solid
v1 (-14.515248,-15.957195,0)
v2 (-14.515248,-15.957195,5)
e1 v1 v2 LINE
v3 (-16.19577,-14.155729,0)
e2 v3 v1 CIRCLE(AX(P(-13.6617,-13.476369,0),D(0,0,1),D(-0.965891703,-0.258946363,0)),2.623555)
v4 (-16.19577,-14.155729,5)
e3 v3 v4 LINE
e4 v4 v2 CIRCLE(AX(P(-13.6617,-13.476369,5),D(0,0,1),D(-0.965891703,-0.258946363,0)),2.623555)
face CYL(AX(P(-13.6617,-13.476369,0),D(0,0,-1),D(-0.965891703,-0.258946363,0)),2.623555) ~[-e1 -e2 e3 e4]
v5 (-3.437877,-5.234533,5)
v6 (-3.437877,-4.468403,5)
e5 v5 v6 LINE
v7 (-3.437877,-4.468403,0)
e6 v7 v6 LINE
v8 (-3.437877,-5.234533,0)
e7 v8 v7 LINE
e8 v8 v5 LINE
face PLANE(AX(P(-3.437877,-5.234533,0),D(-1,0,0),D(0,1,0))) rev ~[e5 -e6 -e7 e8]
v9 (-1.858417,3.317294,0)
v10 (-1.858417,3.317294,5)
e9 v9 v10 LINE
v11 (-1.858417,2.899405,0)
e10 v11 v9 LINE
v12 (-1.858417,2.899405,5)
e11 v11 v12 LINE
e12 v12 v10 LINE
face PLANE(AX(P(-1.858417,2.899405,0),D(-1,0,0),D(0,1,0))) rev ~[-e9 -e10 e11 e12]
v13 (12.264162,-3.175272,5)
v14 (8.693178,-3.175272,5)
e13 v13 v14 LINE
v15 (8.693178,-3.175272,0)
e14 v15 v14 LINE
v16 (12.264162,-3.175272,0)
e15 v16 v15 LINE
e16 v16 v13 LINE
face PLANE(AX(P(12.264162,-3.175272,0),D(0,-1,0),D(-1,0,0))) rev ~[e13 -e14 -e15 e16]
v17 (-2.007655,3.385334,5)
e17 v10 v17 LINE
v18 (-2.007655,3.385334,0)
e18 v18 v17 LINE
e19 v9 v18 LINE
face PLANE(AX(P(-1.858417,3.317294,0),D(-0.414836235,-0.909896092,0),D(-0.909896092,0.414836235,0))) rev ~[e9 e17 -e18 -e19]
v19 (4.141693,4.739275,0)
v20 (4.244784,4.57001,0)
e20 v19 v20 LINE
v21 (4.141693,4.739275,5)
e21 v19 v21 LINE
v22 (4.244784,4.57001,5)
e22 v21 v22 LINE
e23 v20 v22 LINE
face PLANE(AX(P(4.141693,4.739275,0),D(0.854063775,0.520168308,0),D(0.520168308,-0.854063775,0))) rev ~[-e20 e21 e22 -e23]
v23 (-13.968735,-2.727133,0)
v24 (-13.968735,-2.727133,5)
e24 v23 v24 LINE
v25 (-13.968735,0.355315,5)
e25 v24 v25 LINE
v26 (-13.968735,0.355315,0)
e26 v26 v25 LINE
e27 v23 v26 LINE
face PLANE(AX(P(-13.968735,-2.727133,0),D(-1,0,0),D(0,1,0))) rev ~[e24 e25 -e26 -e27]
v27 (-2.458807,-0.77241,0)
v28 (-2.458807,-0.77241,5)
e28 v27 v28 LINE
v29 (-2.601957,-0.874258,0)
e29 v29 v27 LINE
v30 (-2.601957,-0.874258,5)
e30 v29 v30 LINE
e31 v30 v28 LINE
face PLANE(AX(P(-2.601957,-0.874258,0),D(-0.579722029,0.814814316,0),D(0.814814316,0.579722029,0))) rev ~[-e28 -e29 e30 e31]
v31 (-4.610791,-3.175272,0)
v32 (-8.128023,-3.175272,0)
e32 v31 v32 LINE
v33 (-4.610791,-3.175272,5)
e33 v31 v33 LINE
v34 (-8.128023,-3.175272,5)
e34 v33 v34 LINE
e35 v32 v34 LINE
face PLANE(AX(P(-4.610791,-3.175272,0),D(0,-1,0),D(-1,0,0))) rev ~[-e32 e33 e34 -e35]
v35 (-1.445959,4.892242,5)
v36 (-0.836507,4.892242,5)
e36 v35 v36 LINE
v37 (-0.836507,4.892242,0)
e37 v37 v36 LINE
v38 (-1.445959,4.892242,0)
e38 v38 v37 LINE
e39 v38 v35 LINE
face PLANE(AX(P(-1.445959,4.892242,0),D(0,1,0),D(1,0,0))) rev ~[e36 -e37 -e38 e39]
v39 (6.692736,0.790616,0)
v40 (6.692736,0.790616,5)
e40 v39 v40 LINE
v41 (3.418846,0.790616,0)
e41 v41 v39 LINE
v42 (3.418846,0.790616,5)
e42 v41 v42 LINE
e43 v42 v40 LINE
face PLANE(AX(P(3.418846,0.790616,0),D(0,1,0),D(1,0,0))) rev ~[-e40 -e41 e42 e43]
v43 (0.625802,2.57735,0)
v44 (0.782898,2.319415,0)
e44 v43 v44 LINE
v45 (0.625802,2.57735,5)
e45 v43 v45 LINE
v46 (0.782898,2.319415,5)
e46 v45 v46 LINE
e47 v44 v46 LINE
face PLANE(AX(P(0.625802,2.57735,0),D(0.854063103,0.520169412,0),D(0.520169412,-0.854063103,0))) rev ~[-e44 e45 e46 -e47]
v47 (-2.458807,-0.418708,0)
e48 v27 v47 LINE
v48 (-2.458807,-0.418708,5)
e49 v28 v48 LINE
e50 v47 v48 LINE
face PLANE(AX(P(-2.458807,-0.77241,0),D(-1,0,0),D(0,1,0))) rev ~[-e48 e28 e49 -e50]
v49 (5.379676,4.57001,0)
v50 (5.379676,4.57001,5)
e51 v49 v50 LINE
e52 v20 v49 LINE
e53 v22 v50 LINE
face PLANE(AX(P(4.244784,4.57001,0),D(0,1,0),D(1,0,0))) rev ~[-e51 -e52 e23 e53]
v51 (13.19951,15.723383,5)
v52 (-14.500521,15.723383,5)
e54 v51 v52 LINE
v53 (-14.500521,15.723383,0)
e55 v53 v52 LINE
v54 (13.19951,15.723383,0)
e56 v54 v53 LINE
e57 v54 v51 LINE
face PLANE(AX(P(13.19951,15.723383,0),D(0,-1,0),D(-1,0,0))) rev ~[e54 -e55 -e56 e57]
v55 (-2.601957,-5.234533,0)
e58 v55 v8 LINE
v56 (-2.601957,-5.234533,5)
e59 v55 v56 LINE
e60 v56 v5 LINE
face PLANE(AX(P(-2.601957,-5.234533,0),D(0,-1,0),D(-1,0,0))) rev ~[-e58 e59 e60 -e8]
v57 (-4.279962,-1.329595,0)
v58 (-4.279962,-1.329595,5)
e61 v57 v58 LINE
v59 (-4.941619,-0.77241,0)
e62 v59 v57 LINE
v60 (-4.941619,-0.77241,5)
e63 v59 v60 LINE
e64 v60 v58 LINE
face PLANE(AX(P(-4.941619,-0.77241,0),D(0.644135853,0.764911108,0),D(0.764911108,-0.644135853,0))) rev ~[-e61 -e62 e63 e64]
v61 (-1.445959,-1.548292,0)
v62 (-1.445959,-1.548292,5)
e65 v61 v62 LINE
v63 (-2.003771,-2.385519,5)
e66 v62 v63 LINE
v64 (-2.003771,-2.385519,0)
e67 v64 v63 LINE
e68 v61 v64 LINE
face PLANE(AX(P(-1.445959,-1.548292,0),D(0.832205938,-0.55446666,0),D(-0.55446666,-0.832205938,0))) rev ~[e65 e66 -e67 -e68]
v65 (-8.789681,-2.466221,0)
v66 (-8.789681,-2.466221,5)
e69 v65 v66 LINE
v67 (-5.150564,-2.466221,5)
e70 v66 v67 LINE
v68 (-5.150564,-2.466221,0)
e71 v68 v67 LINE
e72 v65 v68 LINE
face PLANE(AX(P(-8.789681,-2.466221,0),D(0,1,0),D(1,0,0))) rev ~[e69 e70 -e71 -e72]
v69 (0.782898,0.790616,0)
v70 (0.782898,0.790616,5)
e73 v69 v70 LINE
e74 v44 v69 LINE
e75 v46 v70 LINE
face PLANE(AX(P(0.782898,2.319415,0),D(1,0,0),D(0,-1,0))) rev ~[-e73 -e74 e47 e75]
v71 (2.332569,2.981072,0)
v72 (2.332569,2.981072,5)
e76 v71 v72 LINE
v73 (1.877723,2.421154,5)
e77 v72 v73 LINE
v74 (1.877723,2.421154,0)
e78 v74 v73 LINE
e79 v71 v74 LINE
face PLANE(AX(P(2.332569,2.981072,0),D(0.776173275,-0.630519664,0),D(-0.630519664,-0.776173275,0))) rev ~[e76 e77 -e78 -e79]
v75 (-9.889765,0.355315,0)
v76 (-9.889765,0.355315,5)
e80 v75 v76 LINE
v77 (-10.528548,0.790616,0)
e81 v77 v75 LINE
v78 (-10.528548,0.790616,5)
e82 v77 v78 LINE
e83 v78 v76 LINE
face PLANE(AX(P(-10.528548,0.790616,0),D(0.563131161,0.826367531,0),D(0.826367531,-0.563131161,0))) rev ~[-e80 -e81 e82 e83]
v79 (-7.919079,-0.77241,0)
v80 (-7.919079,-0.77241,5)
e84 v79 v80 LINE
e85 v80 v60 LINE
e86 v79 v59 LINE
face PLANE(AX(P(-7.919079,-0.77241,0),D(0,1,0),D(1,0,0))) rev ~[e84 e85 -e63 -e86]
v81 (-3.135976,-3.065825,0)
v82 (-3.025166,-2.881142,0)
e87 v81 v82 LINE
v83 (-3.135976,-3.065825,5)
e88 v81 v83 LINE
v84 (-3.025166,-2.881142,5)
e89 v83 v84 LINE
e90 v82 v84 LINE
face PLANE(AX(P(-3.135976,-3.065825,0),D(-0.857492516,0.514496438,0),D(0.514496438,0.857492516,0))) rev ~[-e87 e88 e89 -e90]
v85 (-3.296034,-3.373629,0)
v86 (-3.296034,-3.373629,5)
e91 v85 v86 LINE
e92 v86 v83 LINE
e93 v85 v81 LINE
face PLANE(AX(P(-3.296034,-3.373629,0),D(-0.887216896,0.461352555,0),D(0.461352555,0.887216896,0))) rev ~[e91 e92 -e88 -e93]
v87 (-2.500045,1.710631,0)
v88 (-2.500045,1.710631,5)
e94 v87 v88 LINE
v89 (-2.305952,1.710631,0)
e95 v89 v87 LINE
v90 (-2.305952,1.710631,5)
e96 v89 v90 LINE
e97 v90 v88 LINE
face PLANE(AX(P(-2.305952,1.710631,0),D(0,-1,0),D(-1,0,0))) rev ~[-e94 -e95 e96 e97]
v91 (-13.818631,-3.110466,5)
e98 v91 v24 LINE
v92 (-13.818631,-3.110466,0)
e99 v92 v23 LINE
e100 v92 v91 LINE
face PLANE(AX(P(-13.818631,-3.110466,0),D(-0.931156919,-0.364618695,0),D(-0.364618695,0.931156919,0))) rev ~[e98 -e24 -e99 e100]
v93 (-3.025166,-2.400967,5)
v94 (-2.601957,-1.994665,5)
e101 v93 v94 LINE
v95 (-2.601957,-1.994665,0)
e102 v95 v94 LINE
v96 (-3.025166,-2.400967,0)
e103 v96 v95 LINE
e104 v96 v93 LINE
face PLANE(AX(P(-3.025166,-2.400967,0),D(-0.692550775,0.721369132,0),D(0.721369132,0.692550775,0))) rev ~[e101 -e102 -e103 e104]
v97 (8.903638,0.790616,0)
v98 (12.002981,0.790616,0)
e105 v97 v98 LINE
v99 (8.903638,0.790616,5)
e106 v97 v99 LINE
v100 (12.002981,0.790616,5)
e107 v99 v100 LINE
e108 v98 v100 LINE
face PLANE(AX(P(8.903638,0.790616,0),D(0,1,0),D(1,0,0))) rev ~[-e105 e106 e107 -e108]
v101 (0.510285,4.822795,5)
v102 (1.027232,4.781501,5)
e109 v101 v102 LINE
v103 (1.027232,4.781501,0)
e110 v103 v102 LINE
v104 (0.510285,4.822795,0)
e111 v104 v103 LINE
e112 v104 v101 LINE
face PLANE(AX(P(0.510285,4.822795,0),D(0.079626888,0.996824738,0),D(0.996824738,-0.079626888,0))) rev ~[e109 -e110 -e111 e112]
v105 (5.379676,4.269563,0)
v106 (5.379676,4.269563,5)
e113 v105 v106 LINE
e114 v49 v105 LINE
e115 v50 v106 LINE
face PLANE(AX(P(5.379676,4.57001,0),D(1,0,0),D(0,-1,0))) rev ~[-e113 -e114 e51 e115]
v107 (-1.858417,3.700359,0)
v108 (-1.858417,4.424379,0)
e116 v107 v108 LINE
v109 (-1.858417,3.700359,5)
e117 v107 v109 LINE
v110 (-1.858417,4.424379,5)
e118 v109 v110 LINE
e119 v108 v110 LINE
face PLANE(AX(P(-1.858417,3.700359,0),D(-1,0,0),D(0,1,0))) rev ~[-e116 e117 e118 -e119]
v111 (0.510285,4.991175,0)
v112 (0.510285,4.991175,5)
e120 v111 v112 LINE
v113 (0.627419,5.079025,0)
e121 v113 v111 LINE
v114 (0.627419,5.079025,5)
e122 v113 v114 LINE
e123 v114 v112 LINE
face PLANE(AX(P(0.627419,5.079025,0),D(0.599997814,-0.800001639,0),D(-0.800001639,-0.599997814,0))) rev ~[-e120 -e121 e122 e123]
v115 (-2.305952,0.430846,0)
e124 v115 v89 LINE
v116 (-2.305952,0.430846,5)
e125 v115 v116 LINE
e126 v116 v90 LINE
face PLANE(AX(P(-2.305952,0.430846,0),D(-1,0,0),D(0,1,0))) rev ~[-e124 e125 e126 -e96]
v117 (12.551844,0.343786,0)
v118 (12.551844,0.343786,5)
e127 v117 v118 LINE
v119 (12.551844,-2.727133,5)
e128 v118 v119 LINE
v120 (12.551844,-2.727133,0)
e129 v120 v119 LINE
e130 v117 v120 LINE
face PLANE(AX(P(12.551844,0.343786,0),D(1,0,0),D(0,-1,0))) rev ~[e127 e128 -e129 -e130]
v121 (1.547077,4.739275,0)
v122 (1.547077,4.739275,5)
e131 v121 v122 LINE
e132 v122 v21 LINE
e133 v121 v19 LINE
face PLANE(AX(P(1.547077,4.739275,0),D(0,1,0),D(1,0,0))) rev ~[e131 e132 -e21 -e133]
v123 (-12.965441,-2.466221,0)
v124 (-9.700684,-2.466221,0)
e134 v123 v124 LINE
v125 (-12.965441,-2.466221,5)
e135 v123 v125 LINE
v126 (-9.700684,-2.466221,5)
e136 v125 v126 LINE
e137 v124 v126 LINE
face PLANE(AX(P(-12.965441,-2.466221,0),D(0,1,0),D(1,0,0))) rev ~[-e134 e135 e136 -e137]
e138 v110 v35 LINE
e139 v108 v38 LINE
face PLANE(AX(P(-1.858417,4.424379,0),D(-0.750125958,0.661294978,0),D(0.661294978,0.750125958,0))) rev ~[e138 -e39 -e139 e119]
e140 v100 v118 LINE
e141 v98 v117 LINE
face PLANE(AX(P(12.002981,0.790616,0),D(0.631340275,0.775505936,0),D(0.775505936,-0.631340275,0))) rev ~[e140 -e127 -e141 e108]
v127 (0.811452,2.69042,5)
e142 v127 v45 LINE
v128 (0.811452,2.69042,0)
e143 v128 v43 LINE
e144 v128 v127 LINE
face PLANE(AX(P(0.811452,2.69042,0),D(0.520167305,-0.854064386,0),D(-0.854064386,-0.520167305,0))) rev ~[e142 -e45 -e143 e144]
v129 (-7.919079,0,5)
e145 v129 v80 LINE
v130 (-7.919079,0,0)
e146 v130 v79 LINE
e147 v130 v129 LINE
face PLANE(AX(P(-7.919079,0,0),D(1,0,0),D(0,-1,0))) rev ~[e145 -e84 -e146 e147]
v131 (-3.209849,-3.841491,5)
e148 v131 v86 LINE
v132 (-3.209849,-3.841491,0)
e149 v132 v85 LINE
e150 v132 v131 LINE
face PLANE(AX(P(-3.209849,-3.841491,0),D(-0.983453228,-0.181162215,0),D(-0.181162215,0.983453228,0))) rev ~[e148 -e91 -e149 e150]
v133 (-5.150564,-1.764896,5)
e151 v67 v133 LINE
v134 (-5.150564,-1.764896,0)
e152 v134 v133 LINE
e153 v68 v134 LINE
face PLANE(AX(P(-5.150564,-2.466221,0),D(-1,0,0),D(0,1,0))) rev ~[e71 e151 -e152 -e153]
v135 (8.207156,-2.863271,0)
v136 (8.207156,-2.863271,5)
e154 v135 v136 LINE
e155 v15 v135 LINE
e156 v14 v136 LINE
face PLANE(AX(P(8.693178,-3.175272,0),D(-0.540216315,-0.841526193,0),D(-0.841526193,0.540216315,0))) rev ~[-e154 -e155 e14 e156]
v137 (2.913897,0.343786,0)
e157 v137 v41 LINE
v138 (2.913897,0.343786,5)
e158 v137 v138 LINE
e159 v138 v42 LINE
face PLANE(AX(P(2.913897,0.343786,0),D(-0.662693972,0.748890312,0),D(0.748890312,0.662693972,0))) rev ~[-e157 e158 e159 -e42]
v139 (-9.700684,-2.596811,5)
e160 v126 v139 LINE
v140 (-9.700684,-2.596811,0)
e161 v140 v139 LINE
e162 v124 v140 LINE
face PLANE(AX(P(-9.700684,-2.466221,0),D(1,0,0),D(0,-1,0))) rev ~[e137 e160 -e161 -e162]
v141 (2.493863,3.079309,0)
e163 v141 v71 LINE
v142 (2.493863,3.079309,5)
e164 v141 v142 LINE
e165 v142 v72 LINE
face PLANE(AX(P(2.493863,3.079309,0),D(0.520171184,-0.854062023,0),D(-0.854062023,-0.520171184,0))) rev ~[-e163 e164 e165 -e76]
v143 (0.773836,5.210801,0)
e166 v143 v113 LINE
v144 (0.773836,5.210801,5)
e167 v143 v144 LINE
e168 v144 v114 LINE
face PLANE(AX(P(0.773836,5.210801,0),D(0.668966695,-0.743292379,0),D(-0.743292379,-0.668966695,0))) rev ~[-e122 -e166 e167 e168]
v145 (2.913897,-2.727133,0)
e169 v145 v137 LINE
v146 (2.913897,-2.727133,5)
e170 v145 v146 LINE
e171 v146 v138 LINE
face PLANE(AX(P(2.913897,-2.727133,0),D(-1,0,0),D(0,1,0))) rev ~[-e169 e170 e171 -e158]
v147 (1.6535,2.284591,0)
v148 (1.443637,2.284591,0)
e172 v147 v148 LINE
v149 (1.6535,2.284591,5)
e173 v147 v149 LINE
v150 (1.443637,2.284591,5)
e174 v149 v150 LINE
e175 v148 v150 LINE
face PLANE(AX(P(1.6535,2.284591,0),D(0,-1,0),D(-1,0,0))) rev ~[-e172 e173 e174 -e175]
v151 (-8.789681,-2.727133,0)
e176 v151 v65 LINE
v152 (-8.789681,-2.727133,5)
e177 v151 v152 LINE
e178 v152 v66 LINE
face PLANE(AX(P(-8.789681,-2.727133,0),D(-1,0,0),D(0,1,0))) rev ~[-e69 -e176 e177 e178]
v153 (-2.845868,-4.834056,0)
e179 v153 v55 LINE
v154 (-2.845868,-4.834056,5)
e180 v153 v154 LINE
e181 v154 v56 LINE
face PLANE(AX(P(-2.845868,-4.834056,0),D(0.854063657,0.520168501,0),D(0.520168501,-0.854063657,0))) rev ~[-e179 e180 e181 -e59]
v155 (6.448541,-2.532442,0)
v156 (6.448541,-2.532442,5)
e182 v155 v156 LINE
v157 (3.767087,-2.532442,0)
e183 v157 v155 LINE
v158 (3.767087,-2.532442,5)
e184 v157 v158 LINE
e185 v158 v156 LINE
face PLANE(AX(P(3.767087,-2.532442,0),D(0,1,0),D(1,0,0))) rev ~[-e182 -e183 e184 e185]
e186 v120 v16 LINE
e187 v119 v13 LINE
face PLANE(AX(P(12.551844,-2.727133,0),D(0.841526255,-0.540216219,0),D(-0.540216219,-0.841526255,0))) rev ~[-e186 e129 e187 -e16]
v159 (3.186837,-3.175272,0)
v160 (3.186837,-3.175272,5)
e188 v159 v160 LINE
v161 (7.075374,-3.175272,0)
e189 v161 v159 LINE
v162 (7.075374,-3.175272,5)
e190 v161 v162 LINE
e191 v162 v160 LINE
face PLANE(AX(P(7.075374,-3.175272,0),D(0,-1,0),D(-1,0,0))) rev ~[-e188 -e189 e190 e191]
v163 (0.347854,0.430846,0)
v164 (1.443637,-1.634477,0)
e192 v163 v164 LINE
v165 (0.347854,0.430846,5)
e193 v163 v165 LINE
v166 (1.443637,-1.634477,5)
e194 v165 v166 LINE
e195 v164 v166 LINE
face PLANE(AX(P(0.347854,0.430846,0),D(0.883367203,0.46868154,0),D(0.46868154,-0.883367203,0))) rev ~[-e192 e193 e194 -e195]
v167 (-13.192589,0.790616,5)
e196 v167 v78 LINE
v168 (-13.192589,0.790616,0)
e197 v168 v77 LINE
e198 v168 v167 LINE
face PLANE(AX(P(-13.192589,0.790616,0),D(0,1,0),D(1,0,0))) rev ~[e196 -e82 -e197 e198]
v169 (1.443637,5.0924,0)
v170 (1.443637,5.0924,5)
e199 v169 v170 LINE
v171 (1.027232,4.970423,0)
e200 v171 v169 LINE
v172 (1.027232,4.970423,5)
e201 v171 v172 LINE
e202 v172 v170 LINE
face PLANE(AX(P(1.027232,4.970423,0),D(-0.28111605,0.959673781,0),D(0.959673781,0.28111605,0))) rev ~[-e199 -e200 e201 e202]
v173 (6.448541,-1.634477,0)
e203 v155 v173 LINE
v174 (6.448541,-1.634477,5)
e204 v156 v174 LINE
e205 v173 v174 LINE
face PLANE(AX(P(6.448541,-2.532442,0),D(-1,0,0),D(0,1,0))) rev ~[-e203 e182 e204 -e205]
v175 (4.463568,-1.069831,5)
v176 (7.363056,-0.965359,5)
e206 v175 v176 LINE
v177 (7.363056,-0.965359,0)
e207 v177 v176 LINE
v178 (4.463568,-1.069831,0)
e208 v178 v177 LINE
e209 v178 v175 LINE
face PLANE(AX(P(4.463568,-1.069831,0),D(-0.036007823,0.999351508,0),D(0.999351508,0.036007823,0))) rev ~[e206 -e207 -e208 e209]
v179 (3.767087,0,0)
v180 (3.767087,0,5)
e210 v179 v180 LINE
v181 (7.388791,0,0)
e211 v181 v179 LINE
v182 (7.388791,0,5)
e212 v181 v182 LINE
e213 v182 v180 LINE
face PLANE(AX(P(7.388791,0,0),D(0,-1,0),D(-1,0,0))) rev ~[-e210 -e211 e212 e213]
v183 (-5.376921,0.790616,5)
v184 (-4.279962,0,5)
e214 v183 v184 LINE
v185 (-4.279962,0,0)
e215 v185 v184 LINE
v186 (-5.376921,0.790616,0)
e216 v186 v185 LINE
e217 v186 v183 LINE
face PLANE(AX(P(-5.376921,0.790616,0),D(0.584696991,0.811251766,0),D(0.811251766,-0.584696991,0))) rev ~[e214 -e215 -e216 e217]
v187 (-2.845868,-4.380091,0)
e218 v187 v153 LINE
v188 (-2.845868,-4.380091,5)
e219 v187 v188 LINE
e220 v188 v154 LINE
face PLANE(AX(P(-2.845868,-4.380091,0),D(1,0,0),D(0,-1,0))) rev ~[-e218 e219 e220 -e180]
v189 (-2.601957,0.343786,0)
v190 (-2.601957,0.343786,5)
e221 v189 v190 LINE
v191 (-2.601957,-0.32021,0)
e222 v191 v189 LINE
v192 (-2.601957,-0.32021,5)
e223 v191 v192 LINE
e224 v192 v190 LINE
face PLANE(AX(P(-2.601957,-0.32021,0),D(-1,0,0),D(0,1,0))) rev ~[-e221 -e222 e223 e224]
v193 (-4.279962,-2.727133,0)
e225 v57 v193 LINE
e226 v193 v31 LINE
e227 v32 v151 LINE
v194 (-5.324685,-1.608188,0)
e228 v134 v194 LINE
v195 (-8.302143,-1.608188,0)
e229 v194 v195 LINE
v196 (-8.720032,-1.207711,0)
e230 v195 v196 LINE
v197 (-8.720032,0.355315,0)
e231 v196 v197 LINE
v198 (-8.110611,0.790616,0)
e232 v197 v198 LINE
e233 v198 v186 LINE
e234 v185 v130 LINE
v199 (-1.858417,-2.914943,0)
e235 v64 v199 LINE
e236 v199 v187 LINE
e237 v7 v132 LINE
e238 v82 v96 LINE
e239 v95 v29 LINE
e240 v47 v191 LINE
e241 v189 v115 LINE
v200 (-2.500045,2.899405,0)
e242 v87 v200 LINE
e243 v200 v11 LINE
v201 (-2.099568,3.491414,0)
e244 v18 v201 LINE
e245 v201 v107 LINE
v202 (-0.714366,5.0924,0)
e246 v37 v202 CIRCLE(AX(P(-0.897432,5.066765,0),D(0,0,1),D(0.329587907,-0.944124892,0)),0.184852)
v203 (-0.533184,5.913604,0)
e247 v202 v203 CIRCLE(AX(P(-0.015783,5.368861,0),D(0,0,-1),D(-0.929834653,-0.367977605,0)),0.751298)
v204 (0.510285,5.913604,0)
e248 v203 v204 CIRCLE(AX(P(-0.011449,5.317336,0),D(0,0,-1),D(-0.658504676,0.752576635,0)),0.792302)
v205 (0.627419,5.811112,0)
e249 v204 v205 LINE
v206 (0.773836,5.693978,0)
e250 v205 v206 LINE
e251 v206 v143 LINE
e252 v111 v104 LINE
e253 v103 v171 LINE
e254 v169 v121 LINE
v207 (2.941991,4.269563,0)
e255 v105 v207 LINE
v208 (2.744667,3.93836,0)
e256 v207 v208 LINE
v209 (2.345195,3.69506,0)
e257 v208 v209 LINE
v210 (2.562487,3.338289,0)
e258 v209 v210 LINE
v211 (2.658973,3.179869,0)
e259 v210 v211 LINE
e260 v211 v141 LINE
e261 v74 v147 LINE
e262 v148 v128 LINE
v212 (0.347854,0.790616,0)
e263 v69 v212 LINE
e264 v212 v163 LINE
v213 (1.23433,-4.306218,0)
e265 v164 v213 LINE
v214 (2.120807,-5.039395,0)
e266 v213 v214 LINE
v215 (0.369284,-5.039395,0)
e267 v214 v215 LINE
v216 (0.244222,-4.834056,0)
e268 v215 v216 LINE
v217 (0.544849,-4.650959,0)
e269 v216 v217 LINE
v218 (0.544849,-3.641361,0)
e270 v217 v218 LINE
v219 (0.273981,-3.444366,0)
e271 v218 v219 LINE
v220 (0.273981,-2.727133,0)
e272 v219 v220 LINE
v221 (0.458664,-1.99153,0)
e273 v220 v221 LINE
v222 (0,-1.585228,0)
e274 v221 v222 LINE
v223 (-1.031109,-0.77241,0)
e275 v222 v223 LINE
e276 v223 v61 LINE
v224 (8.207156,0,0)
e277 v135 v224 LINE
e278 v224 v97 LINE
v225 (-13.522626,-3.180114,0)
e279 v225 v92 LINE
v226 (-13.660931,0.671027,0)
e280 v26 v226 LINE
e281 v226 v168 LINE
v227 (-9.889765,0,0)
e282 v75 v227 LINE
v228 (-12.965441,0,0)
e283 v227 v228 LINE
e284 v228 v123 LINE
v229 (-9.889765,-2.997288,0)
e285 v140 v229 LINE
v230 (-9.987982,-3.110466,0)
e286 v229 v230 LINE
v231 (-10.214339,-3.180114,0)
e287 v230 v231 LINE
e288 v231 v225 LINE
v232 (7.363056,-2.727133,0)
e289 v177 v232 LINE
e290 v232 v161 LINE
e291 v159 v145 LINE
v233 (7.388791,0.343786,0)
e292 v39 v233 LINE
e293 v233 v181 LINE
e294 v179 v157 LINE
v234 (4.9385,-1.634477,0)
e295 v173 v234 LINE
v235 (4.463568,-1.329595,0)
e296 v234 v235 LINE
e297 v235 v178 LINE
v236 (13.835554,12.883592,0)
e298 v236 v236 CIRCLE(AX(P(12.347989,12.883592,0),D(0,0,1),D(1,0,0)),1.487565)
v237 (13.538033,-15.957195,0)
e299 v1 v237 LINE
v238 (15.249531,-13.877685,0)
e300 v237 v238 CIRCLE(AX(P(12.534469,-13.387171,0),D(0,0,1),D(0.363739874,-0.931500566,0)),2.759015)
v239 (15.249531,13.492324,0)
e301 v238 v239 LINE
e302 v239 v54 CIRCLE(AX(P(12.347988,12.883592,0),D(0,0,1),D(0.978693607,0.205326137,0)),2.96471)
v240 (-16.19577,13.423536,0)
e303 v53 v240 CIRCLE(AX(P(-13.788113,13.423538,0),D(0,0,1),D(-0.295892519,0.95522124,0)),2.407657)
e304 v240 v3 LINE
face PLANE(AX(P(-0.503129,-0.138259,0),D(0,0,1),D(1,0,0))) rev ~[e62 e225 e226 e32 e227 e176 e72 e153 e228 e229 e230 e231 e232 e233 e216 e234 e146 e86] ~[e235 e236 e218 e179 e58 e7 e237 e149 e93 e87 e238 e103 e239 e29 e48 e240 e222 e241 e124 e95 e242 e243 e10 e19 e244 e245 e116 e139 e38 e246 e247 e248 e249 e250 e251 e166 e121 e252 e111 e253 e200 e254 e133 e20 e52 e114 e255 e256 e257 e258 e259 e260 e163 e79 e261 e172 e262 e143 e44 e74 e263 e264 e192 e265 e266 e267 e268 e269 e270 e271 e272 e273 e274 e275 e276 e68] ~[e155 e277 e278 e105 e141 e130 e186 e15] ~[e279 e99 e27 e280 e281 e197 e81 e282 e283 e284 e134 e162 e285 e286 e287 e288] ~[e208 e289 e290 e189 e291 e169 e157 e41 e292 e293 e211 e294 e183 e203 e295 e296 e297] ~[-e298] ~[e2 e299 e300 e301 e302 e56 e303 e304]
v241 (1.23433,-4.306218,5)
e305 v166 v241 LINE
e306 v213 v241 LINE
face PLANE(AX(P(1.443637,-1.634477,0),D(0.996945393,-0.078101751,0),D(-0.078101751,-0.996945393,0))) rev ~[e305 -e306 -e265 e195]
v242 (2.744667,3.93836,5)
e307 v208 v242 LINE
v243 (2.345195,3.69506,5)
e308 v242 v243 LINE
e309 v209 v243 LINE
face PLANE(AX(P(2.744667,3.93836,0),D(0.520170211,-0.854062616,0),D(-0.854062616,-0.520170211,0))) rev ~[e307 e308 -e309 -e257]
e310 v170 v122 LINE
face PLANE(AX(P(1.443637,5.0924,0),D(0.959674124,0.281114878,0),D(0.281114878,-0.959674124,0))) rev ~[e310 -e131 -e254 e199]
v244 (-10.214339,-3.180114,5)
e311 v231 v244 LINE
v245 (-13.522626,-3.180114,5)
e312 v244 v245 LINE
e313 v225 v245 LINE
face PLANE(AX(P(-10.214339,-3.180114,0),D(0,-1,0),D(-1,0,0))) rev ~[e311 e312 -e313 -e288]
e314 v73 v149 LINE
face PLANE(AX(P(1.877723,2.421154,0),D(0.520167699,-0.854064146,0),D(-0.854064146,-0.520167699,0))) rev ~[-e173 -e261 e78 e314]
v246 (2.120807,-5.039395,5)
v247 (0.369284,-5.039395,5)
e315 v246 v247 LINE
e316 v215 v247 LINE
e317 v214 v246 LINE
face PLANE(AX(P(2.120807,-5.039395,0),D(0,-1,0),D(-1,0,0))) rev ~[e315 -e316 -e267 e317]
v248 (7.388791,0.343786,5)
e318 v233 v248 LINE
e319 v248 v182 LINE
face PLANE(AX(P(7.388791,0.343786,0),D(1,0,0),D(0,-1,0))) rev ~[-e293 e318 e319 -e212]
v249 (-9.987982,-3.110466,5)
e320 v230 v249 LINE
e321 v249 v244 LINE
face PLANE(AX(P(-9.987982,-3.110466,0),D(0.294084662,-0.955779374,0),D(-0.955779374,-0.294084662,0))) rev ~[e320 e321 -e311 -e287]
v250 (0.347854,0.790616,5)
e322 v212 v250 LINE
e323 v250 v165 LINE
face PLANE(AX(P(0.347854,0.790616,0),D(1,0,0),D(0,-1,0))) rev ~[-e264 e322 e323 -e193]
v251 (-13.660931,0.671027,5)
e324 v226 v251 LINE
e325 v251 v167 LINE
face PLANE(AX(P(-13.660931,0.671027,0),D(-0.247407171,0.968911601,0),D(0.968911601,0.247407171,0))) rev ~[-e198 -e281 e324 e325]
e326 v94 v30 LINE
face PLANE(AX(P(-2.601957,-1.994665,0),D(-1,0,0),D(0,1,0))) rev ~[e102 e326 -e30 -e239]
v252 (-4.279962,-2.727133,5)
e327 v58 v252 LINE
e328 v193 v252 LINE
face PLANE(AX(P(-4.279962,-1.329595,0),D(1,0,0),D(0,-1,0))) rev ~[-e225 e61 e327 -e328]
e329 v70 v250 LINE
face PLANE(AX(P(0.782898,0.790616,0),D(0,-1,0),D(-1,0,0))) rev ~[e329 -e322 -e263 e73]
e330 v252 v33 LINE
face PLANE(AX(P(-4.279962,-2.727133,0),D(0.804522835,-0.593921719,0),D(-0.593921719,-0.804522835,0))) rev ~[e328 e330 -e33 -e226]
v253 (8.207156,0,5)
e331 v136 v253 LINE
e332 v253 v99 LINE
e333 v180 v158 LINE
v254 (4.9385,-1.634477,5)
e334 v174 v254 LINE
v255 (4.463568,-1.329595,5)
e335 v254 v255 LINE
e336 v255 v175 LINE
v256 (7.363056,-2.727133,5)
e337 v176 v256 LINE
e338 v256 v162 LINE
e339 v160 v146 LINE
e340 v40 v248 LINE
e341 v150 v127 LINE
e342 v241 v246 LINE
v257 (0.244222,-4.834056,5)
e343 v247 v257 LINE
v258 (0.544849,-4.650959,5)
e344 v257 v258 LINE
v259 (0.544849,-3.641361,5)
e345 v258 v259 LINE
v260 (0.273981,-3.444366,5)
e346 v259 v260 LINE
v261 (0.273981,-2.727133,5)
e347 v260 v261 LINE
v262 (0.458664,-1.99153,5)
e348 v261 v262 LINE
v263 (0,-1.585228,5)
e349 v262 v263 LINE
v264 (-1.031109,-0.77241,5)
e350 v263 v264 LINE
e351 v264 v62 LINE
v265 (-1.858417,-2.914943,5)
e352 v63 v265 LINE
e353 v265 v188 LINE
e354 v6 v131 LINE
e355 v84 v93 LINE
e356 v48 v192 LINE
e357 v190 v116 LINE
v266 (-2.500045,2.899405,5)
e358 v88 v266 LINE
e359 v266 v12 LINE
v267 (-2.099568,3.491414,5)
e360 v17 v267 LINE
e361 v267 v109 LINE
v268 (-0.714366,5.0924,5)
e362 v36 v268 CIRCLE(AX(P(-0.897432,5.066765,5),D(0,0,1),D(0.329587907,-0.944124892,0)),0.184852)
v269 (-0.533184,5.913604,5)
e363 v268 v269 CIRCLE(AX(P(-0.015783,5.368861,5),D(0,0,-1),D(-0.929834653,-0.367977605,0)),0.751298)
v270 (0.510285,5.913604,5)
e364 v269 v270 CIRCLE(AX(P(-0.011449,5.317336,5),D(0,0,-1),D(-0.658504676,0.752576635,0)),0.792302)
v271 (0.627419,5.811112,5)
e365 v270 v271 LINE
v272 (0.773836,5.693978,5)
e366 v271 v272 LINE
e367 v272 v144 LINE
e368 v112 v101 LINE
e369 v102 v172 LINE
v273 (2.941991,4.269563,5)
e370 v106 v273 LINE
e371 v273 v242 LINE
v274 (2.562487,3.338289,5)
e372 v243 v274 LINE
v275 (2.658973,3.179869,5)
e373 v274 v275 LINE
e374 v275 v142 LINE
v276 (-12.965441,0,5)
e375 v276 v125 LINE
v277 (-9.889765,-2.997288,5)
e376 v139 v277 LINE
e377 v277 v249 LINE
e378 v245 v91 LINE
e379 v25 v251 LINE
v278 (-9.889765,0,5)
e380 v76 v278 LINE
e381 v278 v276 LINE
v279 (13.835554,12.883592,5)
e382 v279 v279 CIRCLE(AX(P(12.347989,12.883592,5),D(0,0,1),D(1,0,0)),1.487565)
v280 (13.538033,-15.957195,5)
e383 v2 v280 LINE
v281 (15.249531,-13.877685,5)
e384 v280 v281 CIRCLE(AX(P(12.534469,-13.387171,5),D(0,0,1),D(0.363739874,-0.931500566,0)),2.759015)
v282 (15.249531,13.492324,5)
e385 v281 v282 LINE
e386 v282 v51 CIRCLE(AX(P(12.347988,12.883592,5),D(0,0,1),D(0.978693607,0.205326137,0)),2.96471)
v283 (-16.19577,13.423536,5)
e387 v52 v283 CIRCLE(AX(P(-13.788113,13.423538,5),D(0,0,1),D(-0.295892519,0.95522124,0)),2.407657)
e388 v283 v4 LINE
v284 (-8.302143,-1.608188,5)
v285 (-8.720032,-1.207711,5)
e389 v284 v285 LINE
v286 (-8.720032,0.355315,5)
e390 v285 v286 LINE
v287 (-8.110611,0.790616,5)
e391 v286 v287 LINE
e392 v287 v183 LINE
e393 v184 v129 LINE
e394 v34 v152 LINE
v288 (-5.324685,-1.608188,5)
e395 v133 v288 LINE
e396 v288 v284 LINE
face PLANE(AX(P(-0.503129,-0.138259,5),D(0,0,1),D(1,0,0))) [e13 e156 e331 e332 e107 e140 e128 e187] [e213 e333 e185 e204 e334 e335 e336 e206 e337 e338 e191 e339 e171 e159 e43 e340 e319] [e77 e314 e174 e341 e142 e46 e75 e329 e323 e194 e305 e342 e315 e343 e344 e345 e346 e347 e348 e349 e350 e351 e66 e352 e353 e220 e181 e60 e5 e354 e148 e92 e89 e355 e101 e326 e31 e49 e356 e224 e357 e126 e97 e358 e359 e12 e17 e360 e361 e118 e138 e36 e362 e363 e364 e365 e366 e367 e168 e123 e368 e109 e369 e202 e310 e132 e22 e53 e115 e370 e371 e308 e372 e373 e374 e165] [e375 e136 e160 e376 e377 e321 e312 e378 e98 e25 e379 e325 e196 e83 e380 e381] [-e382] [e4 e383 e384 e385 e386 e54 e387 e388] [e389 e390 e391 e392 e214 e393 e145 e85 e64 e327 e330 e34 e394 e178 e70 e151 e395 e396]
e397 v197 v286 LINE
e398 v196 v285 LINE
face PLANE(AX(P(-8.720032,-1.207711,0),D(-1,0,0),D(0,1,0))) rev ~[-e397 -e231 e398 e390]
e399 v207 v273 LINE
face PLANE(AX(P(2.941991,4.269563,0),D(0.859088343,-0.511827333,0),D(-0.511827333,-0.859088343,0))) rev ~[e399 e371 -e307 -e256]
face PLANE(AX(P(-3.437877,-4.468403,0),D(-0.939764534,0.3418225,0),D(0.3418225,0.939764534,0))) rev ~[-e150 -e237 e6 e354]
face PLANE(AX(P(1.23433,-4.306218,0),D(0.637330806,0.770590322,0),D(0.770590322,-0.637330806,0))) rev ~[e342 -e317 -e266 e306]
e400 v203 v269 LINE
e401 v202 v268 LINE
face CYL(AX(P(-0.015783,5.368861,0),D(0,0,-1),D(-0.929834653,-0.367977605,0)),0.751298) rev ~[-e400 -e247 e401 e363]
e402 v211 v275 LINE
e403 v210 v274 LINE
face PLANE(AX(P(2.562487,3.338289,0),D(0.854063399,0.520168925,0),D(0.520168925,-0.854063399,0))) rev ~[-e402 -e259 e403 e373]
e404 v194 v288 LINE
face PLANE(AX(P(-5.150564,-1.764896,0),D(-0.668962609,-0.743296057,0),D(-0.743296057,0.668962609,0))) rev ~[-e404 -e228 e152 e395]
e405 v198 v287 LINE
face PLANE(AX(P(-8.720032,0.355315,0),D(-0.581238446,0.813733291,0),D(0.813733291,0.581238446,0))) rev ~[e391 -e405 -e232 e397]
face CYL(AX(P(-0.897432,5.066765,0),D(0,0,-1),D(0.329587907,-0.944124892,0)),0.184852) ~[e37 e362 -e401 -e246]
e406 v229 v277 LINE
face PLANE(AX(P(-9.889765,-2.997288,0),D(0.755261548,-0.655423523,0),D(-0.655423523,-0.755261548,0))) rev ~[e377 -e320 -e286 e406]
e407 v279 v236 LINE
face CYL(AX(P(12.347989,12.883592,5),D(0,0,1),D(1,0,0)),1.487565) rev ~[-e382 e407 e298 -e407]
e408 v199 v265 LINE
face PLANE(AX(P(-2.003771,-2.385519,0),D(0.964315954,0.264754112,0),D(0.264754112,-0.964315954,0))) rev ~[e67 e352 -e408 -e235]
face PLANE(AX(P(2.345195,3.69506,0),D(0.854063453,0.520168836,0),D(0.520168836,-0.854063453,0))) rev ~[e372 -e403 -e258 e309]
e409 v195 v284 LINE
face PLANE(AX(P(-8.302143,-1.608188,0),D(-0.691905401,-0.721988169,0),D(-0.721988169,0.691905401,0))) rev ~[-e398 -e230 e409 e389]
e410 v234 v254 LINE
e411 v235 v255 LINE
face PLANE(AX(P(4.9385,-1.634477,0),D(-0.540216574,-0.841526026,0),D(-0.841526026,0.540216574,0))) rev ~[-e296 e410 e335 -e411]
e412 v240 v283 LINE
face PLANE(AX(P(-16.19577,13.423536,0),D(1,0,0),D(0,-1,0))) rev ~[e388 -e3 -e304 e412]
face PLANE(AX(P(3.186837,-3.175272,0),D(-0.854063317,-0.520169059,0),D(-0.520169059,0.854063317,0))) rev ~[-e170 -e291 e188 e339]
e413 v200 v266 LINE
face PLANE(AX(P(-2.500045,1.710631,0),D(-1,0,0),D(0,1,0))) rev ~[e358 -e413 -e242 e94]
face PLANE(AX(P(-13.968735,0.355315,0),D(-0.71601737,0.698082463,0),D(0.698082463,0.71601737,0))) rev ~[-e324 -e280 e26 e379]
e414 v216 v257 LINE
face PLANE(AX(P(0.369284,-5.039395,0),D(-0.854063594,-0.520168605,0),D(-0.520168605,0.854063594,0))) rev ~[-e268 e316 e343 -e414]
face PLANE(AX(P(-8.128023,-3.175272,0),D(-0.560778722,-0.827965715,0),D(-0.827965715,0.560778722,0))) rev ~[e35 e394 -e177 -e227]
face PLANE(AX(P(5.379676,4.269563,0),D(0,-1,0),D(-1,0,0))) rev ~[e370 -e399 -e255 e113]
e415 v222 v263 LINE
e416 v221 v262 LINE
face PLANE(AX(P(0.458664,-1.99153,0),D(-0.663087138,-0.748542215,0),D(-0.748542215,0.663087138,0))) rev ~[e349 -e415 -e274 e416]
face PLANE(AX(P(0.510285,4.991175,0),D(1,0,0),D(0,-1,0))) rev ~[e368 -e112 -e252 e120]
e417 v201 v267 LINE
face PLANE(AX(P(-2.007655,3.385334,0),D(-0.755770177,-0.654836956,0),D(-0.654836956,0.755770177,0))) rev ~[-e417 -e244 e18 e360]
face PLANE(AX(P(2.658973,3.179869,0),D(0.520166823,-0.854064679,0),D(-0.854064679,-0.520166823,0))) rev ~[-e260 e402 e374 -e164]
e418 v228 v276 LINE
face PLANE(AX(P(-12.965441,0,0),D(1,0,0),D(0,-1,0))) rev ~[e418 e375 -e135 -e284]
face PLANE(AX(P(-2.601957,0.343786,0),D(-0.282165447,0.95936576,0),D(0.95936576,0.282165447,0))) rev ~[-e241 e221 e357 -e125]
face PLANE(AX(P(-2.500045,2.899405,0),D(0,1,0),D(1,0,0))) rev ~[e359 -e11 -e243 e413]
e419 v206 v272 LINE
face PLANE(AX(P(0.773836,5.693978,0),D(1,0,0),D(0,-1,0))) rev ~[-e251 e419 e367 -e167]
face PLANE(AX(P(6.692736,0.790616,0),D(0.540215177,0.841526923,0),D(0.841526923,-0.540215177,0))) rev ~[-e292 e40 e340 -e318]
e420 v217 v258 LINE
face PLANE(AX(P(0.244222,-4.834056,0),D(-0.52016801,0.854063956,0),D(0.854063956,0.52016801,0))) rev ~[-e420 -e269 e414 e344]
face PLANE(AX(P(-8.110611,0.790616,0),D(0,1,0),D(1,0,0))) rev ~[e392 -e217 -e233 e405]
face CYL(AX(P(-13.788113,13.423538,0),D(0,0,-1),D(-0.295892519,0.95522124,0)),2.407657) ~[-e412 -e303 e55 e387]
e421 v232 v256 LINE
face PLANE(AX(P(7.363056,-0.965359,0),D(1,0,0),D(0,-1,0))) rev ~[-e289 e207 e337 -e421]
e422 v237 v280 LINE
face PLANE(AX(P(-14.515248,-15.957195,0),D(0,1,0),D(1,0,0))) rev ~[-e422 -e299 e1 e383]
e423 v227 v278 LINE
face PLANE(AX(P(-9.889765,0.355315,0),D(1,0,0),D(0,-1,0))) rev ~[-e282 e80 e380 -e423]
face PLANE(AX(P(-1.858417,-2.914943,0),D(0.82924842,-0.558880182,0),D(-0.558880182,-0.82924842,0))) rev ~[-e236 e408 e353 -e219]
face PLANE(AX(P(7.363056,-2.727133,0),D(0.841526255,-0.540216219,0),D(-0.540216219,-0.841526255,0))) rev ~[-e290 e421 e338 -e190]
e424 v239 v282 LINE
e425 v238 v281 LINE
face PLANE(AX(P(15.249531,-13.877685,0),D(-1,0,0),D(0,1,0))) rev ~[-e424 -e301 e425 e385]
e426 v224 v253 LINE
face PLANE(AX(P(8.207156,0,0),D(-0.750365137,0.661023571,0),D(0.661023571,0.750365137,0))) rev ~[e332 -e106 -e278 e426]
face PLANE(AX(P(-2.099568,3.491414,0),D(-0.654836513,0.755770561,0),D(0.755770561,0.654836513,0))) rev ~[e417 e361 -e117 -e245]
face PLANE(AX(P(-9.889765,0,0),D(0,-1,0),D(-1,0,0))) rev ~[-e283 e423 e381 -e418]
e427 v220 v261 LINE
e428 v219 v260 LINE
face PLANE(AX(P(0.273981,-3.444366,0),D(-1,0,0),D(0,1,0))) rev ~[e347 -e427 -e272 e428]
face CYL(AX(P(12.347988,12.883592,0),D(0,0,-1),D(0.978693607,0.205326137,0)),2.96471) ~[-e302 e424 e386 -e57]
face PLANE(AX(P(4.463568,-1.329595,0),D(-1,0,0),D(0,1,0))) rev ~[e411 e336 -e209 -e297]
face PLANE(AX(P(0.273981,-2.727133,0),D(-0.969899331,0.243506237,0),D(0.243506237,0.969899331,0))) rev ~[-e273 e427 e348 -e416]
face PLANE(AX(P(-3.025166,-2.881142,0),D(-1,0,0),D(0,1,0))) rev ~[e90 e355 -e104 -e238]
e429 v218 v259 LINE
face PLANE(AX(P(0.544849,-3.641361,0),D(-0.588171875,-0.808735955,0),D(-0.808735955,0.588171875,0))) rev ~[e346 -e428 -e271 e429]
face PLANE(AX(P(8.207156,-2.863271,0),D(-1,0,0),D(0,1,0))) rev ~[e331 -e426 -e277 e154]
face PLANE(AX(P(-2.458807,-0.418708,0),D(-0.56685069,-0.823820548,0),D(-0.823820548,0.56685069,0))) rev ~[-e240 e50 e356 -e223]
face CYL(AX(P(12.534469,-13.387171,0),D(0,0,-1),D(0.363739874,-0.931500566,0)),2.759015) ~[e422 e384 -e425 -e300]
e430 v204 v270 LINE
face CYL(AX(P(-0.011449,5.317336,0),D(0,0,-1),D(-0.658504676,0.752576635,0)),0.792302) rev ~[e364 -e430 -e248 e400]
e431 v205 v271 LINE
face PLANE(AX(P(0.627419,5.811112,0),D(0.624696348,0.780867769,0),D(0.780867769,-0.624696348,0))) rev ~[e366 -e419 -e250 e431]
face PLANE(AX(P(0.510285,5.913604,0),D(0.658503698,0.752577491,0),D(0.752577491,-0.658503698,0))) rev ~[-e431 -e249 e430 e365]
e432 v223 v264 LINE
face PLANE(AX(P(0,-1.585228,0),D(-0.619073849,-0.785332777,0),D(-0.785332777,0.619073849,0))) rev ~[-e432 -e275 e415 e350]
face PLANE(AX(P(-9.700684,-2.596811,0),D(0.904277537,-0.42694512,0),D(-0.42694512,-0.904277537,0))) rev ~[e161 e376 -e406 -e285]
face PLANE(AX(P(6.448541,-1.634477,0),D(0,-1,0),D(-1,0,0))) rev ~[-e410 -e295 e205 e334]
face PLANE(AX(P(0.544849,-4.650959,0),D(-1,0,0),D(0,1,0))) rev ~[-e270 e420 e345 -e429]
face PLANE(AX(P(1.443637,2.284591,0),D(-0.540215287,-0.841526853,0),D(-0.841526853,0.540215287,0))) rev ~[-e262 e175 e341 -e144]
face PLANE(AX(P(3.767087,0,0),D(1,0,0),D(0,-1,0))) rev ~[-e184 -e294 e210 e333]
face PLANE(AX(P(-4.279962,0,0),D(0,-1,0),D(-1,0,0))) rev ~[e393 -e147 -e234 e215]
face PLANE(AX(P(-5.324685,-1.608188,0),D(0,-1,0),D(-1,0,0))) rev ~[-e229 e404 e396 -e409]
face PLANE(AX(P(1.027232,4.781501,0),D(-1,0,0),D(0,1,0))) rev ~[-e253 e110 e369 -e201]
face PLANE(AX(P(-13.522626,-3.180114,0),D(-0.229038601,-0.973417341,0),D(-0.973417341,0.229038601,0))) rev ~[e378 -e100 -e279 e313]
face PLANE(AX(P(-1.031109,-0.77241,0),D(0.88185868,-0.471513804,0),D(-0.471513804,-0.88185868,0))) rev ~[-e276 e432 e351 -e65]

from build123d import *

# Parameters (mm, degrees)
F1_DEPTH = 5
F2_R     = 1.487565
F3_DEPTH = 25


with BuildPart() as f1:
    # F0 (on Top) → F1 (new body)
    with BuildSketch(Plane.XY):
        with BuildLine():
            ThreePointArc((-14.500521, 15.723383), (-15.72616, 14.852099), (-16.19577, 13.423536))
            Line((-16.19577, 13.423536), (-16.19577, -14.155729))
            ThreePointArc((-16.19577, -14.155729), (-15.580113, -15.265987), (-14.515248, -15.957195))
            Line((-14.515248, -15.957195), (13.538033, -15.957195))
            ThreePointArc((13.538033, -15.957195), (14.664759, -15.140462), (15.249531, -13.877685))
            Line((15.249531, -13.877685), (15.249531, 13.492324))
            ThreePointArc((15.249531, 13.492324), (14.531055, 14.889514), (13.19951, 15.723383))
            Line((13.19951, 15.723383), (-14.500521, 15.723383))
        make_face()
        Polygon((-9.889765, 0), (-12.746189, 0), (-12.965441, 0), (-12.965441, -0.315834), (-12.965441, -2.466221), (-9.700684, -2.466221), (-9.700684, -2.596811), (-9.889765, -2.997288), (-9.987982, -3.110466), (-10.214339, -3.180114), (-13.522626, -3.180114), (-13.818631, -3.110466), (-13.968735, -2.727133), (-13.968735, 0.355315), (-13.660931, 0.671027), (-13.192589, 0.790616), (-10.528548, 0.790616), (-9.889765, 0.355315), align=None, mode=Mode.SUBTRACT)
        Polygon((-8.720032, 0.355315), (-8.110611, 0.790616), (-5.376921, 0.790616), (-4.279962, 0), (-7.919079, 0), (-7.919079, -0.77241), (-4.941619, -0.77241), (-4.279962, -1.329595), (-4.279962, -2.727133), (-4.610791, -3.175272), (-8.128023, -3.175272), (-8.789681, -2.727133), (-8.789681, -2.466221), (-5.150564, -2.466221), (-5.150564, -1.764896), (-5.324685, -1.608188), (-8.302143, -1.608188), (-8.720032, -1.207711), (-8.720032, 0), align=None, mode=Mode.SUBTRACT)
        Polygon((4.463568, -1.329595), (4.463568, -1.069831), (7.363056, -0.965359), (7.363056, -2.727133), (7.075374, -3.175272), (3.186837, -3.175272), (2.913897, -2.727133), (2.913897, 0.343786), (3.418846, 0.790616), (6.692736, 0.790616), (7.388791, 0.343786), (7.388791, 0), (3.767087, 0), (3.767087, -2.532442), (6.448541, -2.532442), (6.448541, -1.634477), (4.9385, -1.634477), align=None, mode=Mode.SUBTRACT)
        Polygon((8.903638, 0.790616), (12.002981, 0.790616), (12.551844, 0.343786), (12.551844, -2.727133), (12.264162, -3.175272), (8.693178, -3.175272), (8.207156, -2.863271), (8.207156, 0), align=None, mode=Mode.SUBTRACT)
        with BuildLine():
            Line((0.510285, 4.991175), (0.510285, 4.822795))
            Line((0.510285, 4.822795), (1.027232, 4.781501))
            Line((1.027232, 4.781501), (1.027232, 4.970423))
            Line((1.027232, 4.970423), (1.443637, 5.0924))
            Line((1.443637, 5.0924), (1.547077, 4.739275))
            Line((1.547077, 4.739275), (4.141693, 4.739275))
            Line((4.141693, 4.739275), (4.244784, 4.57001))
            Line((4.244784, 4.57001), (5.379676, 4.57001))
            Line((5.379676, 4.57001), (5.379676, 4.269563))
            Line((5.379676, 4.269563), (4.282718, 4.269563))
            Line((4.282718, 4.269563), (2.941991, 4.269563))
            Line((2.941991, 4.269563), (2.744667, 3.93836))
            Line((2.744667, 3.93836), (2.345195, 3.69506))
            Line((2.345195, 3.69506), (2.562487, 3.338289))
            Line((2.562487, 3.338289), (2.658973, 3.179869))
            Line((2.658973, 3.179869), (2.493863, 3.079309))
            Line((2.493863, 3.079309), (2.332569, 2.981072))
            Line((2.332569, 2.981072), (1.877723, 2.421154))
            Line((1.877723, 2.421154), (1.6535, 2.284591))
            Line((1.6535, 2.284591), (1.443637, 2.284591))
            Line((1.443637, 2.284591), (0.811452, 2.69042))
            Line((0.811452, 2.69042), (0.625802, 2.57735))
            Line((0.625802, 2.57735), (0.782898, 2.319415))
            Line((0.782898, 2.319415), (0.782898, 0.790616))
            Line((0.782898, 0.790616), (0.347854, 0.790616))
            Line((0.347854, 0.790616), (0.347854, 0.430846))
            Line((0.347854, 0.430846), (1.443637, -1.634477))
            Line((1.443637, -1.634477), (1.23433, -4.306218))
            Line((1.23433, -4.306218), (2.120807, -5.039395))
            Line((2.120807, -5.039395), (0.369284, -5.039395))
            Line((0.369284, -5.039395), (0.244222, -4.834056))
            Line((0.244222, -4.834056), (0.544849, -4.650959))
            Line((0.544849, -4.650959), (0.544849, -3.641361))
            Line((0.544849, -3.641361), (0.273981, -3.444366))
            Line((0.273981, -3.444366), (0.273981, -2.727133))
            Line((0.273981, -2.727133), (0.458664, -1.99153))
            Line((0.458664, -1.99153), (0, -1.585228))
            Line((0, -1.585228), (-1.031109, -0.77241))
            Line((-1.031109, -0.77241), (-1.445959, -1.548292))
            Line((-1.445959, -1.548292), (-2.003771, -2.385519))
            Line((-2.003771, -2.385519), (-1.858417, -2.914943))
            Line((-1.858417, -2.914943), (-2.845868, -4.380091))
            Line((-2.845868, -4.380091), (-2.845868, -4.834056))
            Line((-2.845868, -4.834056), (-2.601957, -5.234533))
            Line((-2.601957, -5.234533), (-3.437877, -5.234533))
            Line((-3.437877, -5.234533), (-3.437877, -4.86888))
            Line((-3.437877, -4.86888), (-3.437877, -4.468403))
            Line((-3.437877, -4.468403), (-3.209849, -3.841491))
            Line((-3.209849, -3.841491), (-3.296034, -3.373629))
            Line((-3.296034, -3.373629), (-3.135976, -3.065825))
            Line((-3.135976, -3.065825), (-3.025166, -2.881142))
            Line((-3.025166, -2.881142), (-3.025166, -2.400967))
            Line((-3.025166, -2.400967), (-2.601957, -1.994665))
            Line((-2.601957, -1.994665), (-2.601957, -0.874258))
            Line((-2.601957, -0.874258), (-2.458807, -0.77241))
            Line((-2.458807, -0.77241), (-2.458807, -0.418708))
            Line((-2.458807, -0.418708), (-2.601957, -0.32021))
            Line((-2.601957, -0.32021), (-2.601957, 0.343786))
            Line((-2.601957, 0.343786), (-2.305952, 0.430846))
            Line((-2.305952, 0.430846), (-2.305952, 1.710631))
            Line((-2.305952, 1.710631), (-2.500045, 1.710631))
            Line((-2.500045, 1.710631), (-2.500045, 2.899405))
            Line((-2.500045, 2.899405), (-1.858417, 2.899405))
            Line((-1.858417, 2.899405), (-1.858417, 3.317294))
            Line((-1.858417, 3.317294), (-2.007655, 3.385334))
            Line((-2.007655, 3.385334), (-2.099568, 3.491414))
            Line((-2.099568, 3.491414), (-1.858417, 3.700359))
            Line((-1.858417, 3.700359), (-1.858417, 4.424379))
            Line((-1.858417, 4.424379), (-1.445959, 4.892242))
            Line((-1.445959, 4.892242), (-0.836507, 4.892242))
            ThreePointArc((-0.836507, 4.892242), (-0.739639, 4.970476), (-0.714366, 5.0924))
            ThreePointArc((-0.714366, 5.0924), (-0.749437, 5.530727), (-0.533184, 5.913604))
            ThreePointArc((-0.533184, 5.913604), (-0.011449, 6.109638), (0.510285, 5.913604))
            Line((0.510285, 5.913604), (0.627419, 5.811112))
            Line((0.627419, 5.811112), (0.773836, 5.693978))
            Line((0.773836, 5.693978), (0.773836, 5.525598))
            Line((0.773836, 5.525598), (0.773836, 5.357218))
            Line((0.773836, 5.357218), (0.773836, 5.210801))
            Line((0.773836, 5.210801), (0.627419, 5.079025))
            Line((0.627419, 5.079025), (0.510285, 4.991175))
        make_face(mode=Mode.SUBTRACT)
    extrude(amount=F1_DEPTH)

    # F2 (on face) → F3 (cut)
    with BuildSketch(Plane.XY.offset(5)):
        with Locations((12.347989, 12.883592)):
            Circle(F2_R)
    extrude(amount=-F3_DEPTH, mode=Mode.SUBTRACT)


solid = f1.part
